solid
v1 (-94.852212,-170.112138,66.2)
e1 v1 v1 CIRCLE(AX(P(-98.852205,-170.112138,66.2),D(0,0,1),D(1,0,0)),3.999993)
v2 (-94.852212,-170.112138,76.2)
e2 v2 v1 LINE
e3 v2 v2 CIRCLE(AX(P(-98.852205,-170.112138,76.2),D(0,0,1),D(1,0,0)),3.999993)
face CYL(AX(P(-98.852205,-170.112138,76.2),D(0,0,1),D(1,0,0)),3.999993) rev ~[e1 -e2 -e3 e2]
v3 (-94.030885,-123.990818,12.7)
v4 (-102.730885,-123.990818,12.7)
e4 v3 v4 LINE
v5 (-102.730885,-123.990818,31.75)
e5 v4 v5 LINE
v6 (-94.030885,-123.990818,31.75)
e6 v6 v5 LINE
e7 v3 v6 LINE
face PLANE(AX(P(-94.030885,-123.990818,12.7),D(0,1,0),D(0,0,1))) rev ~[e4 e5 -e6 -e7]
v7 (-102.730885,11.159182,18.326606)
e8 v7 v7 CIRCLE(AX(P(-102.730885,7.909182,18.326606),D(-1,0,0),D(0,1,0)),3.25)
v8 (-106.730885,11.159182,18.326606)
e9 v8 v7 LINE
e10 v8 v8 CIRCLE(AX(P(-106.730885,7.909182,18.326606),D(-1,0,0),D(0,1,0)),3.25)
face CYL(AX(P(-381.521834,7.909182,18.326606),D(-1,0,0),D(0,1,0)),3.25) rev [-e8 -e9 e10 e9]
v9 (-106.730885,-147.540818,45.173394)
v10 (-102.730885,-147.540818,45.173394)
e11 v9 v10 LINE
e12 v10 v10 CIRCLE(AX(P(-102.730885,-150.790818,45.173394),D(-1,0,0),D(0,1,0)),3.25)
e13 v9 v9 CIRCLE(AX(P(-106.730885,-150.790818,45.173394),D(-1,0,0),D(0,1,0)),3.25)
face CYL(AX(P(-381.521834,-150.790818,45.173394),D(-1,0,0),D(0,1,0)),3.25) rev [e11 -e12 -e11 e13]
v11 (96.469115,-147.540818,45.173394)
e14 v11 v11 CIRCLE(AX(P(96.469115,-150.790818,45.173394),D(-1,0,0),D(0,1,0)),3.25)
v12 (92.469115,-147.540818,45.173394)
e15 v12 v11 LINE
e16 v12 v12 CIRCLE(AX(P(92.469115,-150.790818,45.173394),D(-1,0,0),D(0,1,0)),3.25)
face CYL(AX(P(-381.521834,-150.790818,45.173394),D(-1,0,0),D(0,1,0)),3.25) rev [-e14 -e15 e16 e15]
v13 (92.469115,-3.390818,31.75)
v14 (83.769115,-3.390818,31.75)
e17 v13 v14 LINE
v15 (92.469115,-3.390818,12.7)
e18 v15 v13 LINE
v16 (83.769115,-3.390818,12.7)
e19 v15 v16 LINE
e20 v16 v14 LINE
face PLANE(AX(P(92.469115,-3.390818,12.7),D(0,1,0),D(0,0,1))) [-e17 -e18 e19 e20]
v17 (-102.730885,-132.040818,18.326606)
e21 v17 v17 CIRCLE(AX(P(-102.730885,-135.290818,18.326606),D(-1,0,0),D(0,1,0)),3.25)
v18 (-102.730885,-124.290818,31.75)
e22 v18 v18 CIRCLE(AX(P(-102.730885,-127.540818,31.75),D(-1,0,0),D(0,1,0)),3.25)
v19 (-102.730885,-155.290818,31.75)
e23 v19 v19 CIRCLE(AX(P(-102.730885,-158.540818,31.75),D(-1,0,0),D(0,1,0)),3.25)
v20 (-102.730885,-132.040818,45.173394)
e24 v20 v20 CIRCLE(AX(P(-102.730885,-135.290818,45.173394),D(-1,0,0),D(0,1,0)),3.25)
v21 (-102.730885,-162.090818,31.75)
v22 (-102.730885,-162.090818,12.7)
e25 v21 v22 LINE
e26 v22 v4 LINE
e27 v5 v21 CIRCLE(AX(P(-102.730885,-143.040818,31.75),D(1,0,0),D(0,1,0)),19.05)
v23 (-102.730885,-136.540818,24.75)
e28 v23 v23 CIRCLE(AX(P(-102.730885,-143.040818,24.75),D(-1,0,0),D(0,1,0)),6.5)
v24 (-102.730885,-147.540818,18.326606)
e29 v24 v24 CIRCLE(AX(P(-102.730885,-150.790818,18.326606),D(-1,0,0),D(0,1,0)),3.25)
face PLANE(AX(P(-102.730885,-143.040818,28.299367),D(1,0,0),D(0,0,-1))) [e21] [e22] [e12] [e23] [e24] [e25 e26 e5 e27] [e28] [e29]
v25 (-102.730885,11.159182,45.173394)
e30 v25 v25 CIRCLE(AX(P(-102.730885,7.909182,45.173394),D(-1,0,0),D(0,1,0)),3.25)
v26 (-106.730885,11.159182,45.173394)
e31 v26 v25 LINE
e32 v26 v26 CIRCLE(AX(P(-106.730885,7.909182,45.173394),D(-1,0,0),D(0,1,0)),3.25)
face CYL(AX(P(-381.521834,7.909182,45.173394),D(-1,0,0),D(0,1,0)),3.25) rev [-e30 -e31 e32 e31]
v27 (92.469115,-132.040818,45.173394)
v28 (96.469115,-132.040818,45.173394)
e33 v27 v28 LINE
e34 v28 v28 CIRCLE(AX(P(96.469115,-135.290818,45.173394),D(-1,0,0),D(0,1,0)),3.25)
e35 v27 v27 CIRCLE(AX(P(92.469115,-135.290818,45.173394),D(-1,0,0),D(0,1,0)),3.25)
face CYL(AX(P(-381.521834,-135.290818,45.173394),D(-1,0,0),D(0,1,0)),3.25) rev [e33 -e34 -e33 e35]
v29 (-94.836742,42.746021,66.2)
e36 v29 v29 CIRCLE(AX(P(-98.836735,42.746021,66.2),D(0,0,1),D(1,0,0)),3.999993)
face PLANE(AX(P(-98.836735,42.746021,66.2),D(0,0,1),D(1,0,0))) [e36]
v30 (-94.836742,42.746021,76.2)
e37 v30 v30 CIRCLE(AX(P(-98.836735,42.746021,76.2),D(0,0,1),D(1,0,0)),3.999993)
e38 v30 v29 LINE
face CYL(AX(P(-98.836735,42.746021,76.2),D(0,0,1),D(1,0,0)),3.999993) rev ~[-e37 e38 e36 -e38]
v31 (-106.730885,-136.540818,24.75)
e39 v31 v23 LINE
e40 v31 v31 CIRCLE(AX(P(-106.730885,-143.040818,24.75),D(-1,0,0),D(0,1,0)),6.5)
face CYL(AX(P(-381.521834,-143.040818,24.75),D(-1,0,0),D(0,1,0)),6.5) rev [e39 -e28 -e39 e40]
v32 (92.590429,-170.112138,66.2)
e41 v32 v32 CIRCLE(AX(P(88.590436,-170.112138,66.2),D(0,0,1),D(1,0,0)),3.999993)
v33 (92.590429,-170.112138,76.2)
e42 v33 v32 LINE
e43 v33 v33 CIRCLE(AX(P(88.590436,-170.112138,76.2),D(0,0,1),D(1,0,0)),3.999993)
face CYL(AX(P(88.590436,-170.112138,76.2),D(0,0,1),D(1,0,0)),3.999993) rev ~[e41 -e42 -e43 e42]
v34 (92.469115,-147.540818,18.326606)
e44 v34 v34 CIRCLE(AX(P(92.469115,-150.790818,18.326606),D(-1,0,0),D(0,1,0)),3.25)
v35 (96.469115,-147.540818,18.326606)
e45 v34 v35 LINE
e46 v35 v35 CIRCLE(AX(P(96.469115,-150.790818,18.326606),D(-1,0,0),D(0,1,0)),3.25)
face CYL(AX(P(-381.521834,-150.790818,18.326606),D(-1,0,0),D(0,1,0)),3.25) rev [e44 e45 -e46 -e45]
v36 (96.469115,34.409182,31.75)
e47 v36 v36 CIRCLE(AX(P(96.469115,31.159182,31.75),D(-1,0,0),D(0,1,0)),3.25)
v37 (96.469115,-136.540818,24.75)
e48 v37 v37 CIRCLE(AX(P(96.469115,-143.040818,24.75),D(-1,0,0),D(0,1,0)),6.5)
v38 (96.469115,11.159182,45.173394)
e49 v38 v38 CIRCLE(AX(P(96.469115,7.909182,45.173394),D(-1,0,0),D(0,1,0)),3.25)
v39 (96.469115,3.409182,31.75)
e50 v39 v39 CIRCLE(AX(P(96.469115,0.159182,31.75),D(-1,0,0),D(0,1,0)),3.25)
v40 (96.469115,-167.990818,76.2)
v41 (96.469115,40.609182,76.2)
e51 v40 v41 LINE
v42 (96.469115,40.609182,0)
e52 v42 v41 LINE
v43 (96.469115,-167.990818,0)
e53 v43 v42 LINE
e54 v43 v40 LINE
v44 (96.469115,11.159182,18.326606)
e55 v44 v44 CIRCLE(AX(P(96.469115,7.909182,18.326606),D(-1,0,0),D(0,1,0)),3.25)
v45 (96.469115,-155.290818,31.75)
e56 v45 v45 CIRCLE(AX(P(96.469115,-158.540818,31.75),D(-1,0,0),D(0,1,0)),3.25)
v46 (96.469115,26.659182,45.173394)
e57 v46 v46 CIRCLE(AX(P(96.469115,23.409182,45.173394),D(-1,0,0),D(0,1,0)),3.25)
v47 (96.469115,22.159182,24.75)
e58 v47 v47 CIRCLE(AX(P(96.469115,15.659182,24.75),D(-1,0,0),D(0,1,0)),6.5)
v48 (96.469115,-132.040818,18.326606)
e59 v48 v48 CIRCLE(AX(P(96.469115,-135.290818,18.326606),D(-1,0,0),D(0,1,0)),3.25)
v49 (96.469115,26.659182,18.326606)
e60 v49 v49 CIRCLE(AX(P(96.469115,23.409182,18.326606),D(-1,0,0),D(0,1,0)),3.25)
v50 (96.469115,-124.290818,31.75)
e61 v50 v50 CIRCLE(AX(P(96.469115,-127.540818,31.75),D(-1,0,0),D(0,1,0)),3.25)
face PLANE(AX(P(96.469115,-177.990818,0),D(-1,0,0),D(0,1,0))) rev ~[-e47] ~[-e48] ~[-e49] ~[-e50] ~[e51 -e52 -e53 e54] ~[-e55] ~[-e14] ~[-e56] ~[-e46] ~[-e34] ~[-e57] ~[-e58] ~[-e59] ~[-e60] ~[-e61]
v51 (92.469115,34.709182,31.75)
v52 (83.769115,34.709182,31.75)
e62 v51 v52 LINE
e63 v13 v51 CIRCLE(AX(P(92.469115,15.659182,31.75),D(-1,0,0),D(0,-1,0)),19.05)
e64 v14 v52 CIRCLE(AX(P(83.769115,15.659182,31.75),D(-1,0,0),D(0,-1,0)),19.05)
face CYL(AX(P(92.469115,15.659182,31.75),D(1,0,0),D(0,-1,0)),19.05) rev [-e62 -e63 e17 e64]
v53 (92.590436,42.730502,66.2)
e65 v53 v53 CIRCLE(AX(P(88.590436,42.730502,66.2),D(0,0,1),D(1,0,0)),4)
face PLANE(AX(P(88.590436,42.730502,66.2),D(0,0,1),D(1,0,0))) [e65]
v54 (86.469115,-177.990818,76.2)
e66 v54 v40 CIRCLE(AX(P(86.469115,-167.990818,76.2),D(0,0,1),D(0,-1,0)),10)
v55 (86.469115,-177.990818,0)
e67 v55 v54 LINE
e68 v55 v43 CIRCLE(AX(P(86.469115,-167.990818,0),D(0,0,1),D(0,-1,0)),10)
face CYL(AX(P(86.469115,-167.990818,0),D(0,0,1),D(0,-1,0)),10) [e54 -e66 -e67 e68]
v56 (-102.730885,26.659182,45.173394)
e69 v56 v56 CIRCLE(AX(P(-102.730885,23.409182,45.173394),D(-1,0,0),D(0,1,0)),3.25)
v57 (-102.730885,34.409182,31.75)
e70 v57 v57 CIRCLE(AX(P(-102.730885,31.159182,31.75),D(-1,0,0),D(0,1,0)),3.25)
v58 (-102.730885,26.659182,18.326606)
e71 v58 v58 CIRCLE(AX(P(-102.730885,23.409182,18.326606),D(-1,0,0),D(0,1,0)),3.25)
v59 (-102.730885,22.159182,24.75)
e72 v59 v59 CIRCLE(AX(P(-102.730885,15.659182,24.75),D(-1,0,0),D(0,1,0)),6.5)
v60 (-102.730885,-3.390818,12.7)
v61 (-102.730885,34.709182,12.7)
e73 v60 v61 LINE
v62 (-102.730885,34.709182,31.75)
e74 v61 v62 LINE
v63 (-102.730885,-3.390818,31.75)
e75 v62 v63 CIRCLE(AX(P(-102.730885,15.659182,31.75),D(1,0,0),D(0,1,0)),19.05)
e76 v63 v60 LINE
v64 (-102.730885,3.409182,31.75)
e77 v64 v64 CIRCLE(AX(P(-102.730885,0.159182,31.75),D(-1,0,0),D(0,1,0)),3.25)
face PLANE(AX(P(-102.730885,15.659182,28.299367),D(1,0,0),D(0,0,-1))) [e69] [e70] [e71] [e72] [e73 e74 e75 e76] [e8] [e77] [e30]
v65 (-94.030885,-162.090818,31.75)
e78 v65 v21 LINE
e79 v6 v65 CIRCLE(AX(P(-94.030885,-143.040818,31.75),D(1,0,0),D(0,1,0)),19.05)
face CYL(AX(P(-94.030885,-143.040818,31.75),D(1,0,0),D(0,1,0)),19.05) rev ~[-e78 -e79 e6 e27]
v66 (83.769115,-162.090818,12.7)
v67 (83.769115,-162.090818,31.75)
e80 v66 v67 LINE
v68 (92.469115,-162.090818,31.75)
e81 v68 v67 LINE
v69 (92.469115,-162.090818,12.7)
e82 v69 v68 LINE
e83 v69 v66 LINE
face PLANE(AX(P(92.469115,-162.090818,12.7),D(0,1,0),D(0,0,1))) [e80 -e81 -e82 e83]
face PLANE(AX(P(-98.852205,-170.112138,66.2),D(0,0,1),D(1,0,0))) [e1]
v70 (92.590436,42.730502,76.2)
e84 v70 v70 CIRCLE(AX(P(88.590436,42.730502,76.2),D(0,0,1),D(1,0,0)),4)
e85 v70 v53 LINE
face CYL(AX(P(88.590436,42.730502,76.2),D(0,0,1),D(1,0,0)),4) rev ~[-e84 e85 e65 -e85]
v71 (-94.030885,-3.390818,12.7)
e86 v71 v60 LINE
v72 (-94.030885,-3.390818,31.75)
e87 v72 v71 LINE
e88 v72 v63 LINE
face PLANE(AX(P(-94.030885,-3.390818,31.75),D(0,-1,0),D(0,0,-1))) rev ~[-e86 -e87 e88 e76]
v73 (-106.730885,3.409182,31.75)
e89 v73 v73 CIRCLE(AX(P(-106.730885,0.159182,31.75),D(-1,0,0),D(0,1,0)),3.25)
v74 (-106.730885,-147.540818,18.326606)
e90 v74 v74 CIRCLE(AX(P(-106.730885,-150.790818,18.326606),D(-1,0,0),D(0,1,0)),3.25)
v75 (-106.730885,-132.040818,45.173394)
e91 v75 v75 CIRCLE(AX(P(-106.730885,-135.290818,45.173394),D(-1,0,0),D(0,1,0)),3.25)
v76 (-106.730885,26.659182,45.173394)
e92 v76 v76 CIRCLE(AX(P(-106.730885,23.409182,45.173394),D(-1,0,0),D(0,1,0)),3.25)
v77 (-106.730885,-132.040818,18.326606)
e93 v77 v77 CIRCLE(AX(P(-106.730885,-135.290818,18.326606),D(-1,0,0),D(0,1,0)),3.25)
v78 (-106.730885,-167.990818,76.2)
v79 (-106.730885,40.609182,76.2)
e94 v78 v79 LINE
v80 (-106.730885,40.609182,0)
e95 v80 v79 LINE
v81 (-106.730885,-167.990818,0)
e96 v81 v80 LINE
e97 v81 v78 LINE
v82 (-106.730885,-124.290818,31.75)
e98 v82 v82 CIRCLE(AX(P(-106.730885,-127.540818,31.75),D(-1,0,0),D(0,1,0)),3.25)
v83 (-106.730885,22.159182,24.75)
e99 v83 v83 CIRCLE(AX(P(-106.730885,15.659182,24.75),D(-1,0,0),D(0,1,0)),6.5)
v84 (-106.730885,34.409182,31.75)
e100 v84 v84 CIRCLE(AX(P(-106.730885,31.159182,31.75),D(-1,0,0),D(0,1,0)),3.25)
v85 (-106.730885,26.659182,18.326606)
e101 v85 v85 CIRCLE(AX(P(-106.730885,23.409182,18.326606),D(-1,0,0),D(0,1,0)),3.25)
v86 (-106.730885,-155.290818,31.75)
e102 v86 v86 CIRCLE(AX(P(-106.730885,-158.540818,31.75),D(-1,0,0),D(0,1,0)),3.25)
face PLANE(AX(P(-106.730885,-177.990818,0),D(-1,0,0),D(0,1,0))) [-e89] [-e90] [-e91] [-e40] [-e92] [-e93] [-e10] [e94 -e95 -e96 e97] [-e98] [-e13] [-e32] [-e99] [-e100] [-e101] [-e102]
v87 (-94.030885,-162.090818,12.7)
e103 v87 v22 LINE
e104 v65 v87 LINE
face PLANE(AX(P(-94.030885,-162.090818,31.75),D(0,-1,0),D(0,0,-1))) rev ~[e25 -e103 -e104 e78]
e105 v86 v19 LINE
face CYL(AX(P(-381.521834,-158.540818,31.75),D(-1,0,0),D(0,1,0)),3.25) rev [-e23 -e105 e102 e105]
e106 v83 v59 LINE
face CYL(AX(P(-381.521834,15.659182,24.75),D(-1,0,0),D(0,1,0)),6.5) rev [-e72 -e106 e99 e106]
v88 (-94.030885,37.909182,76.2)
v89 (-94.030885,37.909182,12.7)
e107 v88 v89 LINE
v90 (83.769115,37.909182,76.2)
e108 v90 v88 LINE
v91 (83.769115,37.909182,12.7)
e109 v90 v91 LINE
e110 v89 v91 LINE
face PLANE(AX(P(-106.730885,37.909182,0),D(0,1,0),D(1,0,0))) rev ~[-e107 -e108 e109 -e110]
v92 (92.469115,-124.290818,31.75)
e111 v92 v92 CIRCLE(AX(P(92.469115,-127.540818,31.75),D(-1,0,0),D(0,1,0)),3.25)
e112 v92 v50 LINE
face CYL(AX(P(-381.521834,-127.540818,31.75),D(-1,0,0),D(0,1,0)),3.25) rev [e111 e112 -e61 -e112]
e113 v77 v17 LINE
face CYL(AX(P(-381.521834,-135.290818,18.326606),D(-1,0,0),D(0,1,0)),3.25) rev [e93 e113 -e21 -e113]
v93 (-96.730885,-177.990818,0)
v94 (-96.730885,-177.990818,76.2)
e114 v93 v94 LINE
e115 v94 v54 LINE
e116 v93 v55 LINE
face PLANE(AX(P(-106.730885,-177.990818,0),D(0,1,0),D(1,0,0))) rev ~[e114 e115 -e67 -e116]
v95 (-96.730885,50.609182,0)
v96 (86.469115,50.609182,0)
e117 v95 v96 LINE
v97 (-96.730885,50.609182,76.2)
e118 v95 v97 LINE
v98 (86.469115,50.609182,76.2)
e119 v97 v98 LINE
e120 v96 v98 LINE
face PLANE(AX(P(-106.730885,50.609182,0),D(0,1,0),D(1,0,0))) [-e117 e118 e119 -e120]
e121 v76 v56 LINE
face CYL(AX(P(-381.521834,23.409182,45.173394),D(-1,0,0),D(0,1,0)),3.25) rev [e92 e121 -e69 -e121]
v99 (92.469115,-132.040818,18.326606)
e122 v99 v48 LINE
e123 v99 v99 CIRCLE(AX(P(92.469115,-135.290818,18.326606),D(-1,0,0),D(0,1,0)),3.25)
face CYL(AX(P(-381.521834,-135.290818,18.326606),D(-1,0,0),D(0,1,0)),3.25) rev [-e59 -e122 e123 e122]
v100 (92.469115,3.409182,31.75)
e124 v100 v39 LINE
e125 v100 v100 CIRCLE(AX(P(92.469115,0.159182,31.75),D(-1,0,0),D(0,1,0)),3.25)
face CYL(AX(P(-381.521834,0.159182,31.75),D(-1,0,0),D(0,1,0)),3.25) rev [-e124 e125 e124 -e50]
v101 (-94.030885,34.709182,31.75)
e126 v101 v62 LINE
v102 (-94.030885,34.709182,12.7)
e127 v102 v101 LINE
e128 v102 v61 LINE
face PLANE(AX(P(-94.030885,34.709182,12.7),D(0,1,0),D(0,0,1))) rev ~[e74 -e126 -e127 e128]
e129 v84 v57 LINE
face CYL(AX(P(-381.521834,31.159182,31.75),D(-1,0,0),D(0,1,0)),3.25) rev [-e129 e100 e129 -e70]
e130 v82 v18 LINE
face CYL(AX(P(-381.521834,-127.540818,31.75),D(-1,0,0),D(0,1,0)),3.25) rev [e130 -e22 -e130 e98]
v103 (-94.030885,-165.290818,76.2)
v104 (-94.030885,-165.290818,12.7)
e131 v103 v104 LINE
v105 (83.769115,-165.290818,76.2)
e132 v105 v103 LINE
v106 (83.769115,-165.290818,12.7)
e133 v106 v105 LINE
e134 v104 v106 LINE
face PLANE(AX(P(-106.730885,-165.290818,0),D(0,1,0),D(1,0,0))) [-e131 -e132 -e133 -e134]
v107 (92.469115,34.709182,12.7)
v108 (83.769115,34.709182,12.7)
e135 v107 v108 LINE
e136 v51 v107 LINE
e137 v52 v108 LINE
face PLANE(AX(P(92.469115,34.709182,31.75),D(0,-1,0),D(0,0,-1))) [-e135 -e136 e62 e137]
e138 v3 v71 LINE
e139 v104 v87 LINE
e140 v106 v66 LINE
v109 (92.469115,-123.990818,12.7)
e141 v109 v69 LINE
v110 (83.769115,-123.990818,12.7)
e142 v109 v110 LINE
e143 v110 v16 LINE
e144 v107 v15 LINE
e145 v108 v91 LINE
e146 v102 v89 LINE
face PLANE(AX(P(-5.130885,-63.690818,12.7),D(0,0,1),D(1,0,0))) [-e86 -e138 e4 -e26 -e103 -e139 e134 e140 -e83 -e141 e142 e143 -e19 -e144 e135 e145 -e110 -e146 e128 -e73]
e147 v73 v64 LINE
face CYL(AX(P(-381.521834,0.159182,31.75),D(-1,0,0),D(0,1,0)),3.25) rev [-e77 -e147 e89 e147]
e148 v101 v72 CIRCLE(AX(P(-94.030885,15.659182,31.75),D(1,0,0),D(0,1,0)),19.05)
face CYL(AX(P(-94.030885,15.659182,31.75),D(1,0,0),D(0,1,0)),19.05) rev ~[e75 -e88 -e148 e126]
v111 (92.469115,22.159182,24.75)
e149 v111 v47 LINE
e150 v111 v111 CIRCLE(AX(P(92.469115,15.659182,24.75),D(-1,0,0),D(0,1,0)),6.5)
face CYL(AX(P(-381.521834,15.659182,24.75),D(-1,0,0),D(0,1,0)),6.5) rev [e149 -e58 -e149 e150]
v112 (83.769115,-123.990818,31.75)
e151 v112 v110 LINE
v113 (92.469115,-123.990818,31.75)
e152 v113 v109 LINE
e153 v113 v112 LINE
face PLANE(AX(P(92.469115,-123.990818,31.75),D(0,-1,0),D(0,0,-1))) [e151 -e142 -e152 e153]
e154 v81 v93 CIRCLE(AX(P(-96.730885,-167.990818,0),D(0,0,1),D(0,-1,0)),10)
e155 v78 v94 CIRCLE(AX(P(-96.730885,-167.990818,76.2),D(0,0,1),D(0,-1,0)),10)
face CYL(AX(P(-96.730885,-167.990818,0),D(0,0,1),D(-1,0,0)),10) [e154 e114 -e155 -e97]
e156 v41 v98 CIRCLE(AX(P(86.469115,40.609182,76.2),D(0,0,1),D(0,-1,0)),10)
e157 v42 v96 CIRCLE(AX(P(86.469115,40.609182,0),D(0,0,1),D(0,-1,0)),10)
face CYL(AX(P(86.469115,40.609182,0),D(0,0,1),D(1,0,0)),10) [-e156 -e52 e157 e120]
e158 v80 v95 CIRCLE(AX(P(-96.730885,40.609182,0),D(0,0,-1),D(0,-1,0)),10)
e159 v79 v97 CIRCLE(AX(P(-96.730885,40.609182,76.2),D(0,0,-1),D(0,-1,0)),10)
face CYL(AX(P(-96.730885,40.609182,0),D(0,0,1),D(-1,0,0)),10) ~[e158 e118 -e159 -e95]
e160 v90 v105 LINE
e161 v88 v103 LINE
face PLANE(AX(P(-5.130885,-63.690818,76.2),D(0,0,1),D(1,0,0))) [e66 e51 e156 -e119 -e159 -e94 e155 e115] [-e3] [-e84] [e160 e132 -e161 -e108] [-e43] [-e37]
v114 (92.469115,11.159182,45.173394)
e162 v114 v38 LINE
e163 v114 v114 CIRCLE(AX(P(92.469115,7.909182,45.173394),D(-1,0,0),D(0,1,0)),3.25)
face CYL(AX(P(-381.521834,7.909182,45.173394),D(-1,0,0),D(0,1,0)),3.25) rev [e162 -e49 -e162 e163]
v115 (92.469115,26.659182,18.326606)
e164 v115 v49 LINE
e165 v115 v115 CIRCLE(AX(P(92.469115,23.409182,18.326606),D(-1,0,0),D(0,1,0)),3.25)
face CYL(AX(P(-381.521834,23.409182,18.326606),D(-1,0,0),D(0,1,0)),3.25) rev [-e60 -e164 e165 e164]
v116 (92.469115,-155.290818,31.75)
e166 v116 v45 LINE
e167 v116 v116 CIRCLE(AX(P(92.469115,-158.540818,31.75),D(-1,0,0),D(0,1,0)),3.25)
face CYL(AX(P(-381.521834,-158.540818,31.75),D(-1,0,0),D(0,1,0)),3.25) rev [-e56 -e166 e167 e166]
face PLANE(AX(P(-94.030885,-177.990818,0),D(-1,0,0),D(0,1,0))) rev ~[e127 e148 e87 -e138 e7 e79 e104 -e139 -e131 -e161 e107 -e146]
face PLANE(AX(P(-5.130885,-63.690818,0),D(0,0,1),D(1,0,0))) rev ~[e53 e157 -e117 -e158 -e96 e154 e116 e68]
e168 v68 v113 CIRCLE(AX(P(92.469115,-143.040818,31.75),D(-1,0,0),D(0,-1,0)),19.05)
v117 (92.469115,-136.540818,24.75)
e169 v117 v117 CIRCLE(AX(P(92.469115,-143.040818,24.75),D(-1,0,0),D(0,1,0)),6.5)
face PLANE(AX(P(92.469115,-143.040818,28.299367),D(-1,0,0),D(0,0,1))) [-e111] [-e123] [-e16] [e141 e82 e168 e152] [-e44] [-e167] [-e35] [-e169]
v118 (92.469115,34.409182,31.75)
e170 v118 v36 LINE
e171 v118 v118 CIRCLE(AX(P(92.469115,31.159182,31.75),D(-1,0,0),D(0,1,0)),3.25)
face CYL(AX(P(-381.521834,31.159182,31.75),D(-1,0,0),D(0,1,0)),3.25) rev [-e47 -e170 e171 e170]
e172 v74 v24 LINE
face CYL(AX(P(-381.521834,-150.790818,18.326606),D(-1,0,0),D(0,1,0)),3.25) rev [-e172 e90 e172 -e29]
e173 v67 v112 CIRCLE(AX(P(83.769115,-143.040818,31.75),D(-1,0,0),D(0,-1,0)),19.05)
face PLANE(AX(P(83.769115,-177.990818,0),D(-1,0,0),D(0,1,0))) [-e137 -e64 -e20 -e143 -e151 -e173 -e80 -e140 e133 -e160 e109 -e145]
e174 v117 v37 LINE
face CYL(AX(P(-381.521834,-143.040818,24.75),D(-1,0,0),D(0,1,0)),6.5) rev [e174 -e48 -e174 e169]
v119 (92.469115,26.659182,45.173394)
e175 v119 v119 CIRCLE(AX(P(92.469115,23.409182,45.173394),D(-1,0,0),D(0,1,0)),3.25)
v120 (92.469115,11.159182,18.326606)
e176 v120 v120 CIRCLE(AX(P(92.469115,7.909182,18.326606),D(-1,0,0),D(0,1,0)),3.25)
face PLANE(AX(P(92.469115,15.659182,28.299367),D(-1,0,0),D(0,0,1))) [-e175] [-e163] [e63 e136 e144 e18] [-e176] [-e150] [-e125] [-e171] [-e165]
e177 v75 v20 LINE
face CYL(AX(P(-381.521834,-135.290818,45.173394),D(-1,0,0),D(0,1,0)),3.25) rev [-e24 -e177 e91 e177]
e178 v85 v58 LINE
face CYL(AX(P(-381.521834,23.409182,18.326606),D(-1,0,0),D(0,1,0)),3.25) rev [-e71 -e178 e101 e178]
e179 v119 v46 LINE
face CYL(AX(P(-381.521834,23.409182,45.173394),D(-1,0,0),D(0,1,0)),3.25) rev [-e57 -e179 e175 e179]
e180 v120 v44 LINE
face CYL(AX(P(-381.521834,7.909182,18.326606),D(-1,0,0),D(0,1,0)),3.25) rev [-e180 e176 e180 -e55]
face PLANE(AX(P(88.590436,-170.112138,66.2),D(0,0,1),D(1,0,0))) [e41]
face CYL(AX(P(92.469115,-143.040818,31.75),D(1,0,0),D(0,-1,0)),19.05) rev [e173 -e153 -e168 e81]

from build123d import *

# Parameters (mm, degrees)
SKETCH1_W                        = 203.2
SKETCH1_H                        = 228.6
CHASSIS_DEPTH                    = 76.2
CHASSIS_COMPARTMENT_T            = -12.7
OUTER_FILLETS_R                  = 10
LEFT_MOTOR_COMPARTMENTS_DEPTH    = 8.7
RIGHT_START                      = -8.7
RIGHT_MOTOR_COMPARTMENTS_DEPTH   = 8.7
SKETCH8_R                        = 3.999993352
SKETCH8_R_2                      = 4
LID_HOLES_DEPTH                  = 10
SCREW_AND_SHAFT_HOLES_DEPTH      = 278.790948922
SCREW_AND_SHAFT_HOLES_DEPTH_BACK = 278.790948922
SKETCH10_R                       = 3.25
SKETCH10_R_2                     = 6.5


with BuildPart() as part:
    # Sketch1 → Chassis (new body)
    with BuildSketch(Plane.XY):
        with Locations((-5.130884808, -63.69081803)):
            Rectangle(SKETCH1_W, SKETCH1_H)
    extrude(amount=CHASSIS_DEPTH)

    # Chassis Compartment
    chassis_compartment_openings = [part.faces().sort_by_distance(p)[0] for p in [
        (-5.130884808, -63.69081803, 76.2),
    ]]
    offset(amount=CHASSIS_COMPARTMENT_T, openings=chassis_compartment_openings, kind=Kind.INTERSECTION)

    # Outer Fillets
    outer_fillets_edges = [part.edges().sort_by_distance(p)[0] for p in [
        (96.469115192, 50.60918197, 38.1),
        (-106.730884808, 50.60918197, 38.1),
        (-106.730884808, -177.99081803, 38.1),
        (96.469115192, -177.99081803, 38.1),
    ]]
    fillet(outer_fillets_edges, radius=OUTER_FILLETS_R)

    # Sketch3 → Left Motor Compartments (cut)
    with BuildSketch(Plane.ZY.offset(94.030884808)):
        with BuildLine():
            Line((31.75, -162.09081803), (12.7, -162.09081803))
            Line((12.7, -162.09081803), (12.7, -123.99081803))
            Line((12.7, -123.99081803), (31.75, -123.99081803))
            ThreePointArc((31.75, -123.99081803), (50.8, -143.04081803), (31.75, -162.09081803))
        make_face()
        with BuildLine():
            Line((31.75, -3.39081803), (12.7, -3.39081803))
            Line((12.7, -3.39081803), (12.7, 34.70918197))
            Line((12.7, 34.70918197), (31.75, 34.70918197))
            ThreePointArc((31.75, 34.70918197), (50.8, 15.65918197), (31.75, -3.39081803))
        make_face()
    extrude(amount=LEFT_MOTOR_COMPARTMENTS_DEPTH, mode=Mode.SUBTRACT)

    # Sketch5 → Right Motor Compartments (cut)
    with BuildSketch(Plane.ZY.offset(-83.769115192).offset(RIGHT_START)):
        with BuildLine():
            Line((31.75, 34.70918197), (12.7, 34.70918197))
            Line((12.7, 34.70918197), (12.7, -3.39081803))
            Line((12.7, -3.39081803), (31.75, -3.39081803))
            ThreePointArc((31.75, -3.39081803), (50.8, 15.65918197), (31.75, 34.70918197))
        make_face()
        with BuildLine():
            Line((31.75, -123.99081803), (12.7, -123.99081803))
            Line((12.7, -123.99081803), (12.7, -162.09081803))
            Line((12.7, -162.09081803), (31.75, -162.09081803))
            ThreePointArc((31.75, -162.09081803), (50.8, -143.04081803), (31.75, -123.99081803))
        make_face()
    extrude(amount=RIGHT_MOTOR_COMPARTMENTS_DEPTH, mode=Mode.SUBTRACT)

    # Sketch8 → Lid Holes (cut)
    with BuildSketch(Plane.XY.offset(76.2)):
        with Locations((88.590435536, -170.112138374)):
            Circle(SKETCH8_R)
        with Locations((-98.852205152, -170.112138374)):
            Circle(SKETCH8_R)
        with Locations((88.590435536, 42.730502314)):
            Circle(SKETCH8_R_2)
        with Locations((-98.836735073, 42.746020894)):
            Circle(SKETCH8_R)
    extrude(amount=-LID_HOLES_DEPTH, mode=Mode.SUBTRACT)

    # Sketch10 → Screw and Shaft Holes (cut, two sides: drawn at the far end of the back side and taken through both)
    with BuildSketch(Plane(origin=(-102.730884808, 0, 0), x_dir=(0, 0, -1), z_dir=(1, 0, 0)).offset(-SCREW_AND_SHAFT_HOLES_DEPTH_BACK)):
        with Locations((-31.75, -127.54081803)):
            Circle(SKETCH10_R)
        with Locations((-45.173393759, -135.29081803)):
            Circle(SKETCH10_R)
        with Locations((-18.326606241, -135.29081803)):
            Circle(SKETCH10_R)
        with Locations((-45.173393759, -150.79081803)):
            Circle(SKETCH10_R)
        with Locations((-18.326606241, -150.79081803)):
            Circle(SKETCH10_R)
        with Locations((-31.75, -158.54081803)):
            Circle(SKETCH10_R)
        with Locations((-31.75, 31.15918197)):
            Circle(SKETCH10_R)
        with Locations((-45.173393759, 23.40918197)):
            Circle(SKETCH10_R)
        with Locations((-18.326606241, 23.40918197)):
            Circle(SKETCH10_R)
        with Locations((-45.173393759, 7.90918197)):
            Circle(SKETCH10_R)
        with Locations((-18.326606241, 7.90918197)):
            Circle(SKETCH10_R)
        with Locations((-31.75, 0.15918197)):
            Circle(SKETCH10_R)
        with Locations((-24.75, -143.04081803)):
            Circle(SKETCH10_R_2)
        with Locations((-24.75, 15.65918197)):
            Circle(SKETCH10_R_2)
    extrude(amount=SCREW_AND_SHAFT_HOLES_DEPTH + SCREW_AND_SHAFT_HOLES_DEPTH_BACK, mode=Mode.SUBTRACT)


solid = part.part
